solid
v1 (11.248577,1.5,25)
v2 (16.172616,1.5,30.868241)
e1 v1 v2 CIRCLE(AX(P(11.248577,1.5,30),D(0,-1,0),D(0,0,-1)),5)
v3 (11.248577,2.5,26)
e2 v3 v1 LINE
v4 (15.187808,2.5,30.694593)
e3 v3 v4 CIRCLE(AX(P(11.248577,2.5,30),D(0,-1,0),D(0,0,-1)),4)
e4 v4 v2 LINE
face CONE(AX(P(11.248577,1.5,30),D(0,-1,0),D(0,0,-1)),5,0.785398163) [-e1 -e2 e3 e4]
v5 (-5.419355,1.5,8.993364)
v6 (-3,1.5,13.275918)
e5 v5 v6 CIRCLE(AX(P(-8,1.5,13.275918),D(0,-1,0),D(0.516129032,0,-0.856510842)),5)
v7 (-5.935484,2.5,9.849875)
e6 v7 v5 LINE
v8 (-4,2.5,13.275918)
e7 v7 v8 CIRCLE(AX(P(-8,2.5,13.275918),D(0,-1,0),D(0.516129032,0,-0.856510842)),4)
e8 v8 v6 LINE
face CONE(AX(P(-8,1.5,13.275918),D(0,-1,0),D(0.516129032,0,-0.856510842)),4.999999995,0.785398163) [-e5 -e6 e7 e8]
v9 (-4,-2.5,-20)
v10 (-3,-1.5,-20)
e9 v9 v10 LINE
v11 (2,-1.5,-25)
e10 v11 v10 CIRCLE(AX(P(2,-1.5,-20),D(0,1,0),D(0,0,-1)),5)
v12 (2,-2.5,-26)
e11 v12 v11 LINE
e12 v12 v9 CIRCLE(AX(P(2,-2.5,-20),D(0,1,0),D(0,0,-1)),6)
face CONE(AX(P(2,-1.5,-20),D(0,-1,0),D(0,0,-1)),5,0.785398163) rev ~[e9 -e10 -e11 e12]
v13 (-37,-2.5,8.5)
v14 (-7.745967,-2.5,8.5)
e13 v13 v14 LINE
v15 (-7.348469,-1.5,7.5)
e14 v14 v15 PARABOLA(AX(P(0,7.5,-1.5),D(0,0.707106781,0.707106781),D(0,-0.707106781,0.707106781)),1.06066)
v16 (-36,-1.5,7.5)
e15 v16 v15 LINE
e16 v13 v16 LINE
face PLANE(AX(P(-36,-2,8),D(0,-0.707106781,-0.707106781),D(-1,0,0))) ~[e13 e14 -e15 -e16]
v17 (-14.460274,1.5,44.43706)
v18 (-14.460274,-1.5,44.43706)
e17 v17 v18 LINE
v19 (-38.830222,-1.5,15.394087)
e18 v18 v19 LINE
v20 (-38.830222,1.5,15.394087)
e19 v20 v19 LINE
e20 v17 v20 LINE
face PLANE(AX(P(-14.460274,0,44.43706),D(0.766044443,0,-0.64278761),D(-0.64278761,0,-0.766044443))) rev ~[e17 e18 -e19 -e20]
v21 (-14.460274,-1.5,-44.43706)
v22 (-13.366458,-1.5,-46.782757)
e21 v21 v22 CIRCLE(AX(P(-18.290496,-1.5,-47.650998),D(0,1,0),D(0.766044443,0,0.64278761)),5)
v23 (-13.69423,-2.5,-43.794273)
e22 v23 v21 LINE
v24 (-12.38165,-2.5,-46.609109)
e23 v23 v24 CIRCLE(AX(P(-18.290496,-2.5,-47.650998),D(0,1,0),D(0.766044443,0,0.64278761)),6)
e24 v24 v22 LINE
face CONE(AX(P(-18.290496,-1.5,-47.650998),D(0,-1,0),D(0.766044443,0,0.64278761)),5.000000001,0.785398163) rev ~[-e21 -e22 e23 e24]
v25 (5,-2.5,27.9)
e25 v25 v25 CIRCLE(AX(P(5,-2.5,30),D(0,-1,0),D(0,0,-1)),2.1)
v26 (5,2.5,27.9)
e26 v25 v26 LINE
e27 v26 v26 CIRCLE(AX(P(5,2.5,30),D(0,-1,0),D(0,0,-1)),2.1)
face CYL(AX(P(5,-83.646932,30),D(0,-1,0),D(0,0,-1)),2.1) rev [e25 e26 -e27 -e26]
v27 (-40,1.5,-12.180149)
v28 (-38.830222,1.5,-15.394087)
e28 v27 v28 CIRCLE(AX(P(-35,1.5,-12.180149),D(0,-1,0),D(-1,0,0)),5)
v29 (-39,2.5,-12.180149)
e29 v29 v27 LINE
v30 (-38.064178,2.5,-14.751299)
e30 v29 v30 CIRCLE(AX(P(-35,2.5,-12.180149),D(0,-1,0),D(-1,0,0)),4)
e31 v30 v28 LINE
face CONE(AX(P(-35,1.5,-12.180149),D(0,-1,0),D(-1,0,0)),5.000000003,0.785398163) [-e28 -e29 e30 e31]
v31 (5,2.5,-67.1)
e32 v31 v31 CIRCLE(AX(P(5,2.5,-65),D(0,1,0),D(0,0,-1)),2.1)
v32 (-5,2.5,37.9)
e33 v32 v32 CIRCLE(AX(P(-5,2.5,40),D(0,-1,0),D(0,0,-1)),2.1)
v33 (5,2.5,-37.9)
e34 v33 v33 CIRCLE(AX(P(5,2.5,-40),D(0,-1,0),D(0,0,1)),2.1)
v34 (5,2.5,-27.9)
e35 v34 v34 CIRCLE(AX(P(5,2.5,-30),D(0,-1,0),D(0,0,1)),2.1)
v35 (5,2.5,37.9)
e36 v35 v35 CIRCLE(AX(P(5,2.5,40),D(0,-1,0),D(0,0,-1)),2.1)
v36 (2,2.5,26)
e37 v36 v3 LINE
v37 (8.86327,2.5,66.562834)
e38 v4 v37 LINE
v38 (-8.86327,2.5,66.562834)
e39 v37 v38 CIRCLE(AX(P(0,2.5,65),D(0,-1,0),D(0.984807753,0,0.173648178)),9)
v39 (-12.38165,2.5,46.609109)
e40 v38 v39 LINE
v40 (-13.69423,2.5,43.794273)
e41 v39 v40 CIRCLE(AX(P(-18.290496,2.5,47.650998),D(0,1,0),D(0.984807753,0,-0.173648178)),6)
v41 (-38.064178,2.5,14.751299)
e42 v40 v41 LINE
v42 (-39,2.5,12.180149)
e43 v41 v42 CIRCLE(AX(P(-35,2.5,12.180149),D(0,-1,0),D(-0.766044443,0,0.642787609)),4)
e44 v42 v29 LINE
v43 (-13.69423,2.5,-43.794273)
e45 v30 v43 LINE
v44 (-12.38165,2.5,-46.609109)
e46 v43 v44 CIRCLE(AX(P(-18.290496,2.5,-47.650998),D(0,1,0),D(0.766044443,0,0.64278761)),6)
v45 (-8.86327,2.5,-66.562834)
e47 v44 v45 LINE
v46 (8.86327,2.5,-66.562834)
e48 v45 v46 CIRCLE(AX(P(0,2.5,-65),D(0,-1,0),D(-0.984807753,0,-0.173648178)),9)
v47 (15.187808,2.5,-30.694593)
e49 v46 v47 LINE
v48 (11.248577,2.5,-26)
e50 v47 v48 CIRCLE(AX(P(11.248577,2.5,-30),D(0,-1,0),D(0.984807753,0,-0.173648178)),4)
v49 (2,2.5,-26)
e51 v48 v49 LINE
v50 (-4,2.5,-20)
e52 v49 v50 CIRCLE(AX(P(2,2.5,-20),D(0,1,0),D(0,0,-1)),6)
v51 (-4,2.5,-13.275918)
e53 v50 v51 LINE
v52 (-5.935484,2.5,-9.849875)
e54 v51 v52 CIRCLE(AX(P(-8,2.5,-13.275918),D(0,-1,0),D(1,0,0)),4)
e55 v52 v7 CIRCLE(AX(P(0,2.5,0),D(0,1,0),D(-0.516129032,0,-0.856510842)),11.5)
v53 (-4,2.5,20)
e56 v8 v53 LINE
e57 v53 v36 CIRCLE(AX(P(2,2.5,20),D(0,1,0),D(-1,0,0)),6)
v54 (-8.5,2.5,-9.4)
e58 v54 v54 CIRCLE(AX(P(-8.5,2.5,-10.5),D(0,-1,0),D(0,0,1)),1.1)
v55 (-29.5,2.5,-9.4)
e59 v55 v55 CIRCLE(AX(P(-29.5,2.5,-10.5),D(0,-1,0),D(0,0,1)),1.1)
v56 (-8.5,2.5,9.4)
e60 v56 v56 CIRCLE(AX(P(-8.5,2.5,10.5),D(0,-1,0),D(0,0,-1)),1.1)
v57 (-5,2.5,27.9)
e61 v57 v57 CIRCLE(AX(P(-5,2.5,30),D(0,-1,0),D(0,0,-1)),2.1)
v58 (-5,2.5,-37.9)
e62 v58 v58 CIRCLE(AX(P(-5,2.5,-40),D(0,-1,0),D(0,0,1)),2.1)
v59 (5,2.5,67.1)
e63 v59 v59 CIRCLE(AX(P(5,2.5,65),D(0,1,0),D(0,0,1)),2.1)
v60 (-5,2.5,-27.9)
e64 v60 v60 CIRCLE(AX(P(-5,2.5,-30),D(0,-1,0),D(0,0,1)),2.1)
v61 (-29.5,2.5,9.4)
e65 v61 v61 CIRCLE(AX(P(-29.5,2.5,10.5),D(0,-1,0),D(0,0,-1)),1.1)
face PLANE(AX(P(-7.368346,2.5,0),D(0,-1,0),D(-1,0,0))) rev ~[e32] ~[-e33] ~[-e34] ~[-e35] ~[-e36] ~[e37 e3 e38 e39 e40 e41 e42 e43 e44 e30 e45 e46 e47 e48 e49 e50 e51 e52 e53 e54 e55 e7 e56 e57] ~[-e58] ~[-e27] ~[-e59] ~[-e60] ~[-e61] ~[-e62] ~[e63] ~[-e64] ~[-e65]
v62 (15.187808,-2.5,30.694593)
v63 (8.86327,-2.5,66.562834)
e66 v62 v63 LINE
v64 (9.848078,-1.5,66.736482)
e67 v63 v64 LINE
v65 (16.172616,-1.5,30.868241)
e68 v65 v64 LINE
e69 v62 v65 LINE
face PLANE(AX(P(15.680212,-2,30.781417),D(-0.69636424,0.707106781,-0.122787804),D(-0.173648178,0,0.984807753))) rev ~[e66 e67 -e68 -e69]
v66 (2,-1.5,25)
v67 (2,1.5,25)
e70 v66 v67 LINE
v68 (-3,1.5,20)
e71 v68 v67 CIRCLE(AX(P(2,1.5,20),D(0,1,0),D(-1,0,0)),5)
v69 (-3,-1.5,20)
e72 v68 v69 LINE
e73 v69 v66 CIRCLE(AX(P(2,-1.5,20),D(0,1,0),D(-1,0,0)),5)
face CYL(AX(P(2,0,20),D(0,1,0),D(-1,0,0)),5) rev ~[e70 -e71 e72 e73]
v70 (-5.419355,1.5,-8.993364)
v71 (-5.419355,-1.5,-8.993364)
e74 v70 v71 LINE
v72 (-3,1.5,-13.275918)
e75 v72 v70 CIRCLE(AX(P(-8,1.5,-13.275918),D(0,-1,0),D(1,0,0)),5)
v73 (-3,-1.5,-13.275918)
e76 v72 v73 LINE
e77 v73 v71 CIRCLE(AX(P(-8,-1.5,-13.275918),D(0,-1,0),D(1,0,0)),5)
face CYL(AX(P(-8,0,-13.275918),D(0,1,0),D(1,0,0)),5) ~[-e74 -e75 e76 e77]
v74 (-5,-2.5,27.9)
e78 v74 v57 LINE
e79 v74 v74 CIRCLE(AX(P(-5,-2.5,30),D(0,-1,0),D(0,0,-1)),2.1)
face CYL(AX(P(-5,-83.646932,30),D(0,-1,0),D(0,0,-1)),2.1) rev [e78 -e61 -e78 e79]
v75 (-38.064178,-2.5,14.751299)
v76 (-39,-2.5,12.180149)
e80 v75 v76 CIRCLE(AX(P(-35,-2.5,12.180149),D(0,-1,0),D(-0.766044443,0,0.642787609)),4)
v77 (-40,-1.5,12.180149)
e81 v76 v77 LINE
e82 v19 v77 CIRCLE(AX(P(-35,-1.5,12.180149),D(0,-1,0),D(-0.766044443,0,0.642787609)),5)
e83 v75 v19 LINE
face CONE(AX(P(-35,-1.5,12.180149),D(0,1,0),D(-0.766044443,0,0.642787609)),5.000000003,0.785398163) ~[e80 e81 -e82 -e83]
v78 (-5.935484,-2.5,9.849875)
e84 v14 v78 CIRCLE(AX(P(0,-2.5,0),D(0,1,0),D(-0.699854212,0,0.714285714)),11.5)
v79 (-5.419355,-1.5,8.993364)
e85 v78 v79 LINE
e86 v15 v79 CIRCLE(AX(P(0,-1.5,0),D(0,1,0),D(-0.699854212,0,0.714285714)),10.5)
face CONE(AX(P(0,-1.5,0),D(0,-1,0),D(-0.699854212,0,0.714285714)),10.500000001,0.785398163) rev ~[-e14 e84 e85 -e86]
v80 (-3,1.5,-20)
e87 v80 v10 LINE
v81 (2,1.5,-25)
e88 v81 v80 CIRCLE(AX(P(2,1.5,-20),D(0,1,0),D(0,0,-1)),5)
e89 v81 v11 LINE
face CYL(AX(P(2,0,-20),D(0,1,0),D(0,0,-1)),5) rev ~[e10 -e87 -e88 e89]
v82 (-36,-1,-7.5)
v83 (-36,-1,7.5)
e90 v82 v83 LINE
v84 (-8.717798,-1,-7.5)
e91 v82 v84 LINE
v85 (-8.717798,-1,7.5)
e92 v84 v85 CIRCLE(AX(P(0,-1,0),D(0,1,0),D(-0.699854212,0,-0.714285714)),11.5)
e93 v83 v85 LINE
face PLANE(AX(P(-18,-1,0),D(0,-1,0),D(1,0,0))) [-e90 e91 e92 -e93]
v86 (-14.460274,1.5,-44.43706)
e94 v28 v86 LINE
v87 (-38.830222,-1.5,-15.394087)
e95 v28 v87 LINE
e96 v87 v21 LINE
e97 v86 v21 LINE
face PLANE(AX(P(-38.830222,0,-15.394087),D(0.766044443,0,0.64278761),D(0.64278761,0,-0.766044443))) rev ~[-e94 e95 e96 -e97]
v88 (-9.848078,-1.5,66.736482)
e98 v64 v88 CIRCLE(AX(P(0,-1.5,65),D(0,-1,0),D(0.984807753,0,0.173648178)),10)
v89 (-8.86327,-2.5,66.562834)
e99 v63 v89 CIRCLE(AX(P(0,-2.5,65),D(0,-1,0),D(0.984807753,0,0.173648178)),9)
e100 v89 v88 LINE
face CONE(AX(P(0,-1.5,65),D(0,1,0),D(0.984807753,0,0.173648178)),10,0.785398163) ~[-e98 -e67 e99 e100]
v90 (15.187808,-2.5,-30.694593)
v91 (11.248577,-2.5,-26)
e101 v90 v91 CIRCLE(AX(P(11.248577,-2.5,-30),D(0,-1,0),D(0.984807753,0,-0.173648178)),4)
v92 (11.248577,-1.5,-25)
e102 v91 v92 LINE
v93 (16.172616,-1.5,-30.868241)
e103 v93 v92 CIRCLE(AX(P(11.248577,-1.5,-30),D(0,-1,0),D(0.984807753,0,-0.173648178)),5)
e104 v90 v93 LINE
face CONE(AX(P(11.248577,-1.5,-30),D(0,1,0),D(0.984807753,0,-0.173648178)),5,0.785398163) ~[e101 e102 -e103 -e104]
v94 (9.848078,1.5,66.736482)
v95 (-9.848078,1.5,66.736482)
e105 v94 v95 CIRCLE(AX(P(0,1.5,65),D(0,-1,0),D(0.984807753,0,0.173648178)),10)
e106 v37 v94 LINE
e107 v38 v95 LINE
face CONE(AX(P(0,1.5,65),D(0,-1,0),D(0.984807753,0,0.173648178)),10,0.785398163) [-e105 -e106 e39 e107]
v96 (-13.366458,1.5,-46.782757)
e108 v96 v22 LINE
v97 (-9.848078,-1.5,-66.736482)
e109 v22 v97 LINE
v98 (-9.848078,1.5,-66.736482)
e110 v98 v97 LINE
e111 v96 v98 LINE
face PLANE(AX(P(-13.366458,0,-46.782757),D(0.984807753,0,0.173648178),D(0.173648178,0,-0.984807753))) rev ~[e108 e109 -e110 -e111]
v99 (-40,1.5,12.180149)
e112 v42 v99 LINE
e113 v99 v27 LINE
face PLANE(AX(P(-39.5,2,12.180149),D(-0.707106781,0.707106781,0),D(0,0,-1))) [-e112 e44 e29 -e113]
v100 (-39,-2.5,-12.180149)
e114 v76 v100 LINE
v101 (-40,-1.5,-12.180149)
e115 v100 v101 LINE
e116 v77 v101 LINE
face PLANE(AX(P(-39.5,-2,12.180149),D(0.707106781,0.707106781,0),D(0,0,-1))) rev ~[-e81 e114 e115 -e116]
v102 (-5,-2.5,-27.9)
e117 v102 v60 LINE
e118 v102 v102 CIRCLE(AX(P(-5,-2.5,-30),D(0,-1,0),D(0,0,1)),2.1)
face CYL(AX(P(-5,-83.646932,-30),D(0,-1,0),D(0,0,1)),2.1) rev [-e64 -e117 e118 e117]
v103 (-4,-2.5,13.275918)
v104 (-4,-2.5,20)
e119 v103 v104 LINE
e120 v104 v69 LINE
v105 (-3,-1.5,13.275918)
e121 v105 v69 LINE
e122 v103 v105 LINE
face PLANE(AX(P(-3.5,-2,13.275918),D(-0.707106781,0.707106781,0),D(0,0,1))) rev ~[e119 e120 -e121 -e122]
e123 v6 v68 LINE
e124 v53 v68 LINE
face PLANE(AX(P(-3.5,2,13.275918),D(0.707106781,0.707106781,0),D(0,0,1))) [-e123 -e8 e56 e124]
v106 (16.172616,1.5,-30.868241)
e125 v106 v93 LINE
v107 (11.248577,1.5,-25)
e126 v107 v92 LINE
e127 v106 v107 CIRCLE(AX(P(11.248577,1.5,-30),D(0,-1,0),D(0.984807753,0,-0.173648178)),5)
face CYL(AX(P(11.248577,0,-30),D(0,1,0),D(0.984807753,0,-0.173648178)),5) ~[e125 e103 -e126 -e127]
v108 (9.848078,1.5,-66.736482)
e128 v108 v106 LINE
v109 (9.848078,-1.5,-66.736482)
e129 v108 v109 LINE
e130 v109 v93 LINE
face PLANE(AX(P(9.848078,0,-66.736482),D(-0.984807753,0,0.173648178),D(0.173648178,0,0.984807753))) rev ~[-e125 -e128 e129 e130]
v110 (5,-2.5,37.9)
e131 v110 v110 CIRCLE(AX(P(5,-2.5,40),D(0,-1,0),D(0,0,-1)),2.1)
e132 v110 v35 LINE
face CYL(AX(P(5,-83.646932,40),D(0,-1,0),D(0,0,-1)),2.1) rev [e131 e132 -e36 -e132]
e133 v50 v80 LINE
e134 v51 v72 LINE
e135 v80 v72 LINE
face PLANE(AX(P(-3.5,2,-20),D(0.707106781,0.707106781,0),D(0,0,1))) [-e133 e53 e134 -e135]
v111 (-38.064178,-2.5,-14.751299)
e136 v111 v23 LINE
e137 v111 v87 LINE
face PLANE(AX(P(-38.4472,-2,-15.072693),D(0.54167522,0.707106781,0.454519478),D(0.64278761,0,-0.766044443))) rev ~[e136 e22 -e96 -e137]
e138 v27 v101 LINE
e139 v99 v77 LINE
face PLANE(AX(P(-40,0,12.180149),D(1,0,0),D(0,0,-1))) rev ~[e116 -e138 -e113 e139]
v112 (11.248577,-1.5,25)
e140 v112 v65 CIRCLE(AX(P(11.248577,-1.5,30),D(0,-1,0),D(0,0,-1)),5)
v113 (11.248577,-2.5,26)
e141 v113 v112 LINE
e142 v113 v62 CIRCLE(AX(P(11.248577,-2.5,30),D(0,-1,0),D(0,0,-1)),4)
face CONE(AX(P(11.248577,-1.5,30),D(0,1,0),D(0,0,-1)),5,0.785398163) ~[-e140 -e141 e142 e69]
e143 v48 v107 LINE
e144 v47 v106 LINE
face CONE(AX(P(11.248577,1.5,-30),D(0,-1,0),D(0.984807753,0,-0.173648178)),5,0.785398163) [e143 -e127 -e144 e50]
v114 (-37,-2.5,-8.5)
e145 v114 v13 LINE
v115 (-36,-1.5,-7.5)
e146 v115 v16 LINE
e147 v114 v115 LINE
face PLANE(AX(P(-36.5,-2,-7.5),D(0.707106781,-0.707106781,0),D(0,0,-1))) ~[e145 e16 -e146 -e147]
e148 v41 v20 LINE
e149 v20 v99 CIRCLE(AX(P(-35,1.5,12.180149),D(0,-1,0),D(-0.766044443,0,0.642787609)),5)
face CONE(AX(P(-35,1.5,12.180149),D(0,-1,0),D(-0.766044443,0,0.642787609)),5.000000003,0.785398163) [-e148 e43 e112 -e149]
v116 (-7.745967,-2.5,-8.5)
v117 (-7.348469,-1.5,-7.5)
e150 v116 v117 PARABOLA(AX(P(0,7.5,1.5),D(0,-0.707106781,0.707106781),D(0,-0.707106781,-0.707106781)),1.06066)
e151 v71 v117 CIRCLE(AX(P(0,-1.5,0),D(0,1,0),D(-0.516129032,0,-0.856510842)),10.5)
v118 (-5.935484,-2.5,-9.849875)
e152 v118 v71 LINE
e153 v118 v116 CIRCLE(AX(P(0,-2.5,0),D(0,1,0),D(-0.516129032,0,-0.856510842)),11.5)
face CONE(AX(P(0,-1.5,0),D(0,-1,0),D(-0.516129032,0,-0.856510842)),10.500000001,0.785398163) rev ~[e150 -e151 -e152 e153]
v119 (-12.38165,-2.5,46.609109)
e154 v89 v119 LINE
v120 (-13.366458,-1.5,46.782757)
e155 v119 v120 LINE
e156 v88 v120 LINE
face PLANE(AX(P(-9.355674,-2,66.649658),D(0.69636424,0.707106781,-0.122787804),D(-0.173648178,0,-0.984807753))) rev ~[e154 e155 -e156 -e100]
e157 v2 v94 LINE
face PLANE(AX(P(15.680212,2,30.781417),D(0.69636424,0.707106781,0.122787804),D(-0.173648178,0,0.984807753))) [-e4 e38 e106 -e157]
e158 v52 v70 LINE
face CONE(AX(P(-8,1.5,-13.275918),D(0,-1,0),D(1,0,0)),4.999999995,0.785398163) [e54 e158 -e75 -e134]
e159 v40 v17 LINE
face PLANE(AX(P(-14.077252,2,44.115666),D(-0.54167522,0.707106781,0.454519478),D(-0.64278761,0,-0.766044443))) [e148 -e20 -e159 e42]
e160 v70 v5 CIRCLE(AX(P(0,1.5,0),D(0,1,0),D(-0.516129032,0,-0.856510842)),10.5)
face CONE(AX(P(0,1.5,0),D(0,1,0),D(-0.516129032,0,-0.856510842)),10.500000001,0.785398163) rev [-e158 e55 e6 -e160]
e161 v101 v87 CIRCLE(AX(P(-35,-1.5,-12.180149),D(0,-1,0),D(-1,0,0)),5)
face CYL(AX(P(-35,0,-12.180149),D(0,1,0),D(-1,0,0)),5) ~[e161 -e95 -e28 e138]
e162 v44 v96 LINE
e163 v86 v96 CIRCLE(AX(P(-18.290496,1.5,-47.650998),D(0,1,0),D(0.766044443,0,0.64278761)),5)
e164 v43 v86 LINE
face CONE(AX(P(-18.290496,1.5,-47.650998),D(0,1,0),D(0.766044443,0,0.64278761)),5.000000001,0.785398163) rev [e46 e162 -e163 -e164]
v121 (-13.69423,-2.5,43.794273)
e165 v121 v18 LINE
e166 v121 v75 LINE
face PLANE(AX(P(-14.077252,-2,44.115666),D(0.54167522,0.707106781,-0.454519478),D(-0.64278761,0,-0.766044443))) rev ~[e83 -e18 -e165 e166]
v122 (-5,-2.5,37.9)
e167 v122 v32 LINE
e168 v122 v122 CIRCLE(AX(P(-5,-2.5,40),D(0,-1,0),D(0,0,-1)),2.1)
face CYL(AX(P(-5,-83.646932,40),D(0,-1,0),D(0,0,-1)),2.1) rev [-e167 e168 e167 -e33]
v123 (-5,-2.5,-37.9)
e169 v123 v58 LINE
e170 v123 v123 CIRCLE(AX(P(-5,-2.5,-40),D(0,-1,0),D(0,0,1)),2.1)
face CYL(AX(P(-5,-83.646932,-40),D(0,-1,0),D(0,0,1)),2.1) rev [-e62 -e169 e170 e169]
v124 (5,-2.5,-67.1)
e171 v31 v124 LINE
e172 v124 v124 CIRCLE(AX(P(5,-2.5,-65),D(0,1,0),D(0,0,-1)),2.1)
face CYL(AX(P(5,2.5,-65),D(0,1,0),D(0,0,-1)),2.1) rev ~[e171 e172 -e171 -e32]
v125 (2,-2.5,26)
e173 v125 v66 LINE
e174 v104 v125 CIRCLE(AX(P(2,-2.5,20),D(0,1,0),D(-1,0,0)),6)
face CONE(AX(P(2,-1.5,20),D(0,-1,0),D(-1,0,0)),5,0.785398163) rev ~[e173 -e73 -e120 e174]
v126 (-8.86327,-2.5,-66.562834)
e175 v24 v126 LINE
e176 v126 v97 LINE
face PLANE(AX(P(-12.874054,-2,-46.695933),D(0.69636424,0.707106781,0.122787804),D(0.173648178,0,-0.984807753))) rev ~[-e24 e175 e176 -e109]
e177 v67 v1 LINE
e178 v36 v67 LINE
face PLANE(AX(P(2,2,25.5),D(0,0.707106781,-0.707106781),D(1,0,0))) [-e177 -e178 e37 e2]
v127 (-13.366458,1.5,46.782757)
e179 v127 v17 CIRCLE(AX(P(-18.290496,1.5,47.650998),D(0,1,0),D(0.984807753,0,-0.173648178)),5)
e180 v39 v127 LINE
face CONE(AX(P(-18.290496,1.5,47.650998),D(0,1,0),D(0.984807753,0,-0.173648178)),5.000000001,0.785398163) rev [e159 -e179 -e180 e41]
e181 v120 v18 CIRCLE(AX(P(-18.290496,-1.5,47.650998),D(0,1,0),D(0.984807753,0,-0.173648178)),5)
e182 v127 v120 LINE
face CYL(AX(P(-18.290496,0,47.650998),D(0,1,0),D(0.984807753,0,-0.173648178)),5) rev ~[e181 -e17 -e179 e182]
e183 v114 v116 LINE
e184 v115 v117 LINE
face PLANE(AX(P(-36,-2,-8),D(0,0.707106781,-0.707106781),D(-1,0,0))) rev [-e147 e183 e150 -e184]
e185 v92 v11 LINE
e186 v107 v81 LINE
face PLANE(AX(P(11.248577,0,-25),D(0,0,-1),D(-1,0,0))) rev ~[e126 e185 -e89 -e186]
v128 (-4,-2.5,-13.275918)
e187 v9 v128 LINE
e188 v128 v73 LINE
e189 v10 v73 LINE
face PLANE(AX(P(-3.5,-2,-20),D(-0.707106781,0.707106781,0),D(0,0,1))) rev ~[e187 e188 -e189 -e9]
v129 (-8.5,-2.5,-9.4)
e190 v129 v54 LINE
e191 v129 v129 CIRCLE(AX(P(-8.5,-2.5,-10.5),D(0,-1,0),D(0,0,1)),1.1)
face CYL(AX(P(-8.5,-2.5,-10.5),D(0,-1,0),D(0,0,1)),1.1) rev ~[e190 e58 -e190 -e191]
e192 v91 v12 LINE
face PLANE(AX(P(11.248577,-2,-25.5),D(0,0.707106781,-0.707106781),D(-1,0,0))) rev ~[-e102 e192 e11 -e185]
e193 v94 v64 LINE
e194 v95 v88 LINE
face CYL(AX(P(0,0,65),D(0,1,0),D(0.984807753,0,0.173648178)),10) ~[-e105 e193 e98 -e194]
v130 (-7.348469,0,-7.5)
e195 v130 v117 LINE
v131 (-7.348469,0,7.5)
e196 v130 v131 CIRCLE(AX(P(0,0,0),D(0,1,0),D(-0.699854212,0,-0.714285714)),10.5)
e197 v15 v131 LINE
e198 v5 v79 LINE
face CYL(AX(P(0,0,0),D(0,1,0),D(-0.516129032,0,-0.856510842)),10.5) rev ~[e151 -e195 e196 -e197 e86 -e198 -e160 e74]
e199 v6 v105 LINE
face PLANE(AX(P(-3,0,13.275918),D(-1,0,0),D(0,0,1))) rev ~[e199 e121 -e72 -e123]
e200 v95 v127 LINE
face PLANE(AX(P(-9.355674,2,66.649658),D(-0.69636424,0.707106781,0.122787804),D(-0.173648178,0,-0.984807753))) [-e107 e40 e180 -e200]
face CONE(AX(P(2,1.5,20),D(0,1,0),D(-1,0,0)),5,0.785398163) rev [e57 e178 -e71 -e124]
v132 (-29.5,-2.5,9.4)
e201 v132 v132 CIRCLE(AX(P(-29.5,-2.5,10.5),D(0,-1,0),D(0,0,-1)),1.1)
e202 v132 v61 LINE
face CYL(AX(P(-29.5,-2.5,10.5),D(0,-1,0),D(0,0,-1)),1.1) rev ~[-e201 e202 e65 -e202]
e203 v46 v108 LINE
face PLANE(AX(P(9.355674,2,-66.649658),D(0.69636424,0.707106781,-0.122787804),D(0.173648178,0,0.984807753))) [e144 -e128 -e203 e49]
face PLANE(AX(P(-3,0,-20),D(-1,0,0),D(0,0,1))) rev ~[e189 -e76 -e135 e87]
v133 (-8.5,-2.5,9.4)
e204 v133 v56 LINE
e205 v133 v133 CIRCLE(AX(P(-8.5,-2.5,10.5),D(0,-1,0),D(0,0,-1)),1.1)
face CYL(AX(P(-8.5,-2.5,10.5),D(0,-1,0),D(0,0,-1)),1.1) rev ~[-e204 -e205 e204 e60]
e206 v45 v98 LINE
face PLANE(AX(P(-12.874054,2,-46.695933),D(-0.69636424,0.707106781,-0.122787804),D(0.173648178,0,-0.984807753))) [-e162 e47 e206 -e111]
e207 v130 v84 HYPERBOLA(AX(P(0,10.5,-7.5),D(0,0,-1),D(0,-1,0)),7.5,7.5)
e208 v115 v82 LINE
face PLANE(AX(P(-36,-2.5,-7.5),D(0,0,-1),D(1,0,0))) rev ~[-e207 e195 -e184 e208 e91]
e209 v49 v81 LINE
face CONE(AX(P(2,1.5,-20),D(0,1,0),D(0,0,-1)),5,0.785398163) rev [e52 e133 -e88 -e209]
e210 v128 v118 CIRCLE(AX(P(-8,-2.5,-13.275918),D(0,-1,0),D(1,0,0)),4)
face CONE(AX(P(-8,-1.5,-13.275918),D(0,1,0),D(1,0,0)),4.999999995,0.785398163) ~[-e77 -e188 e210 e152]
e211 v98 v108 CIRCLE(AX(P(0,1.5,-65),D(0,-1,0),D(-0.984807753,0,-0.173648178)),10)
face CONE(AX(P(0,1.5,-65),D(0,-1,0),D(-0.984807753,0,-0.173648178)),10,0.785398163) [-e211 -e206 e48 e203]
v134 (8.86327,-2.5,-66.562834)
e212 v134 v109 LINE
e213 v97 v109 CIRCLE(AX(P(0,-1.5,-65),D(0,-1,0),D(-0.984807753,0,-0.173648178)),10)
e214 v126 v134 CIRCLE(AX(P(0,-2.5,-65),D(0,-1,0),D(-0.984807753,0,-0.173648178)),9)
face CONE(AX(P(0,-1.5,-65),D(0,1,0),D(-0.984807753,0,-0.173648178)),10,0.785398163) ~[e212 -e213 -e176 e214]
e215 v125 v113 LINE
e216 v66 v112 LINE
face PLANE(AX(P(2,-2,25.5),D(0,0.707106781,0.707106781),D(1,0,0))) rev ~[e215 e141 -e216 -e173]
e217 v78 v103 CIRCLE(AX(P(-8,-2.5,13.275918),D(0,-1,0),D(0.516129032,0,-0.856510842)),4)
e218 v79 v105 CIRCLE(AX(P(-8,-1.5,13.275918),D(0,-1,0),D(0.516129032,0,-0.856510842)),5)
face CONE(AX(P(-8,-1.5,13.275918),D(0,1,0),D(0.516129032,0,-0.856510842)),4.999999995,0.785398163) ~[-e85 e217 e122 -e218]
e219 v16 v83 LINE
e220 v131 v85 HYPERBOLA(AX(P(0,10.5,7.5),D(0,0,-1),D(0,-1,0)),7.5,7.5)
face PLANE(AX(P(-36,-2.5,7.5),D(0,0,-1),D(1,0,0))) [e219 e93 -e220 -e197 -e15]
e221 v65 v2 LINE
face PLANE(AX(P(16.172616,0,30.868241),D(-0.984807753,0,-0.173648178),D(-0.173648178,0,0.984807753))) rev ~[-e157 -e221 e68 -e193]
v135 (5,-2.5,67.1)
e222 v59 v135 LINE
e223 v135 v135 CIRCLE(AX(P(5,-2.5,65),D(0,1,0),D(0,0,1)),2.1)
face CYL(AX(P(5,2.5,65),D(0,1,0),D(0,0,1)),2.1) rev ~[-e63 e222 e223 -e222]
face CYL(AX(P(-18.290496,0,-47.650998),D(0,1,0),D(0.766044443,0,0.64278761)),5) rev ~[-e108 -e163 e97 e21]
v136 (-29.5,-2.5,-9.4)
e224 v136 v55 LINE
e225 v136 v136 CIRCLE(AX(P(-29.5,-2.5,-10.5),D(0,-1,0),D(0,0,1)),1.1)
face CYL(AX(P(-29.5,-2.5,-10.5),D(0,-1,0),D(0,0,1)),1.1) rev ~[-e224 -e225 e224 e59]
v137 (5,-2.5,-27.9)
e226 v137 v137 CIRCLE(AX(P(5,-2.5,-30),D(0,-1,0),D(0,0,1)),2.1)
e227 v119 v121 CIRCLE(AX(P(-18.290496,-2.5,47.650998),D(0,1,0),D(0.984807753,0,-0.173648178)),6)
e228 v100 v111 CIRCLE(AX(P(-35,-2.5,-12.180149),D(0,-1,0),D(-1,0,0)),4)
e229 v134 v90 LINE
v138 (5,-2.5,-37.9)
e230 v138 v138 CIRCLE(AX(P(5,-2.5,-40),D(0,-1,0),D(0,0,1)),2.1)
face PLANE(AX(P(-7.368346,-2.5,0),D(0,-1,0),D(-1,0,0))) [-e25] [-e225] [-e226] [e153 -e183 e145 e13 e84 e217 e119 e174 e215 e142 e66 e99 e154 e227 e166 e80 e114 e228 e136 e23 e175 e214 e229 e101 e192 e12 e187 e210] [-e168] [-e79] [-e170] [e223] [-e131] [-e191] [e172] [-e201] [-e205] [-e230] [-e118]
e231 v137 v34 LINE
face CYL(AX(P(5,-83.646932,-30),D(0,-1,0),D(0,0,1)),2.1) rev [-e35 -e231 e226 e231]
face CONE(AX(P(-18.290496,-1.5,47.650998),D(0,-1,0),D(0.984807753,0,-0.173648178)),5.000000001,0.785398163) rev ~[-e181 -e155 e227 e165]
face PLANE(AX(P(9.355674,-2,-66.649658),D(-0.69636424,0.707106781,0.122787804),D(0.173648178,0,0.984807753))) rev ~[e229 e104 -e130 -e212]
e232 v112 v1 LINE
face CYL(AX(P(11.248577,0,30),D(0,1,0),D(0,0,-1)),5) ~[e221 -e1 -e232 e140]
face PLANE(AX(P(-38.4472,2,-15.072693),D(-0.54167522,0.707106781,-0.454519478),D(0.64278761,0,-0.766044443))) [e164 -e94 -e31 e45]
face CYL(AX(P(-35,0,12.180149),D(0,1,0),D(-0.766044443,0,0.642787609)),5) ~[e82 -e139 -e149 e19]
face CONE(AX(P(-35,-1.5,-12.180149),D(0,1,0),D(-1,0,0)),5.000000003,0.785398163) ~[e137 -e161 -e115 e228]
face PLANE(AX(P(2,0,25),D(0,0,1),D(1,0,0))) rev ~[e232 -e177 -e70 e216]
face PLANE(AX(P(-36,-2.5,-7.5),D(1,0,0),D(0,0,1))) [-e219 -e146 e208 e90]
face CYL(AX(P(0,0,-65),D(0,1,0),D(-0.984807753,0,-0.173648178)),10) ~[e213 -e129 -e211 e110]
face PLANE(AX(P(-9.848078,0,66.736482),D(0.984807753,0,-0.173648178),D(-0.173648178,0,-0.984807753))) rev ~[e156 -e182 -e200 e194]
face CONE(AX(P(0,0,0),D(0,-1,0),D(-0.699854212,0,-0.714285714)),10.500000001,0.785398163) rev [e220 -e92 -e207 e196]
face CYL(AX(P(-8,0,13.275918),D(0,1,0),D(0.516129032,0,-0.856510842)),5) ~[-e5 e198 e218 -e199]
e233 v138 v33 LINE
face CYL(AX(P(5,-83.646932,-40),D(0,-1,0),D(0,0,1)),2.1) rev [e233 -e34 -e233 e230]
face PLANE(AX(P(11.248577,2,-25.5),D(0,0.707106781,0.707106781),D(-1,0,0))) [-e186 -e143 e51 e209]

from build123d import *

# Parameters (mm, degrees)
EXTRUDE_1_DEPTH          = 2.5
SKETCH_2_R               = 2.1
CUT_EXTRUDE_1_DEPTH      = 86.14693183
SKETCH_3_R               = 1.1
CUT_EXTRUDE_2_DEPTH      = 86.14693183
SKETCH_6_W               = 36
SKETCH_6_H               = 15
CUT_EXTRUDE_3_DEPTH      = 1.5
CHAMFER_1_SIZE           = 1
CUT_EXTRUDE_4_DEPTH      = 86.14693183
CUT_EXTRUDE_4_DEPTH_BACK = 86.14693183
SKETCH_7_R               = 2.1


with BuildPart() as part:
    # 草图1 → 凸台-拉伸1 (new, symmetric)
    with BuildSketch(Plane(origin=(0, 0, 0), x_dir=(1, 0, 0), z_dir=(0, 1, 0))):
        with BuildLine():
            Line((16.172616149, -30.868240888), (9.84807753, -66.736481777))
            ThreePointArc((9.84807753, -66.736481777), (0, -75), (-9.84807753, -66.736481777))
            Line((-9.84807753, -66.736481777), (-13.366457523, -46.782757288))
            ThreePointArc((-13.366457523, -46.782757288), (-13.758957353, -45.537906868), (-14.460274073, -44.437060128))
            Line((-14.460274073, -44.437060128), (-38.830222216, -15.394086877))
            ThreePointArc((-38.830222216, -15.394086877), (-39.698463104, -13.890249545), (-40, -12.180148829))
            Line((-40, -12.180148829), (-40, 12.180148829))
            ThreePointArc((-40, 12.180148829), (-39.698463104, 13.890249545), (-38.830222216, 15.394086877))
            Line((-38.830222216, 15.394086877), (-14.460274073, 44.437060128))
            ThreePointArc((-14.460274073, 44.437060128), (-13.758957353, 45.537906868), (-13.366457523, 46.782757288))
            Line((-13.366457523, 46.782757288), (-9.84807753, 66.736481777))
            ThreePointArc((-9.84807753, 66.736481777), (0, 75), (9.84807753, 66.736481777))
            Line((9.84807753, 66.736481777), (16.172616149, 30.868240888))
            ThreePointArc((16.172616149, 30.868240888), (15.0787996, 26.786061952), (11.248577384, 25))
            Line((11.248577384, 25), (2, 25))
            ThreePointArc((2, 25), (-1.535533906, 23.535533906), (-3, 20))
            Line((-3, 20), (-3, 13.275918047))
            ThreePointArc((-3, 13.275918047), (-3.646654975, 10.816571163), (-5.419354839, 8.993363839))
            ThreePointArc((-5.419354839, 8.993363839), (-10.5, 0), (-5.419354839, -8.993363839))
            ThreePointArc((-5.419354839, -8.993363839), (-3.646654975, -10.816571163), (-3, -13.275918047))
            Line((-3, -13.275918047), (-3, -20))
            ThreePointArc((-3, -20), (-1.535533906, -23.535533906), (2, -25))
            Line((2, -25), (11.248577384, -25))
            ThreePointArc((11.248577384, -25), (15.0787996, -26.786061952), (16.172616149, -30.868240888))
        make_face()
    extrude(amount=EXTRUDE_1_DEPTH, both=True)

    # 草图2 → 切除-拉伸1 (cut, through all)
    with BuildSketch(Plane(origin=(0, 2.5, 0), x_dir=(1, 0, 0), z_dir=(0, 1, 0))):
        with Locations(Location((5, -65, 0), (0, 0, 270))):
            Circle(SKETCH_2_R)
        with Locations(Location((5, 65, 0), (0, 0, 90))):
            Circle(SKETCH_2_R)
    extrude(amount=-CUT_EXTRUDE_1_DEPTH, mode=Mode.SUBTRACT)

    # 草图3 → 切除-拉伸2 (cut, through all)
    with BuildSketch(Plane.XZ.offset(2.5)):
        with Locations(Location((-8.5, 10.5, 0), (0, 0, 270))):
            Circle(SKETCH_3_R)
        with Locations(Location((-29.5, 10.5, 0), (0, 0, 270))):
            Circle(SKETCH_3_R)
        with Locations(Location((-29.5, -10.5, 0), (0, 0, 90))):
            Circle(SKETCH_3_R)
        with Locations(Location((-8.5, -10.5, 0), (0, 0, 90))):
            Circle(SKETCH_3_R)
    extrude(amount=-CUT_EXTRUDE_2_DEPTH, mode=Mode.SUBTRACT)

    # 草图6 → 切除-拉伸3 (cut)
    with BuildSketch(Plane.XZ.offset(2.5)):
        with Locations((-18, 0)):
            Rectangle(SKETCH_6_W, SKETCH_6_H)
    extrude(amount=-CUT_EXTRUDE_3_DEPTH, mode=Mode.SUBTRACT)

    # 倒角1
    chamfer_1_edges = [part.edges().sort_by_distance(p)[0] for p in [
        (-6.427430804, -2.5, -8.302899088),
        (-21.674234614, -2.5, 7.5),
        (-10.5, -1, 0),
        (-36, -2.5, 0),
        (-21.674234614, -2.5, -7.5),
        (-1.535533906, 2.5, 23.535533906),
        (-3, 2.5, 16.637959024),
        (-3.646654975, 2.5, 10.816571163),
        (13.01034684, -2.5, 48.802361333),
        (0, -2.5, 75),
        (-11.607267527, -2.5, 56.759619532),
        (-13.758957353, -2.5, 45.537906868),
        (-26.645248144, -2.5, 29.915573502),
        (-10.5, 2.5, 0),
        (-39.698463104, -2.5, 13.890249545),
        (-40, -2.5, 0),
        (-39.698463104, -2.5, -13.890249545),
        (-26.645248144, -2.5, -29.915573502),
        (-13.758957353, -2.5, -45.537906868),
        (-11.607267527, -2.5, -56.759619532),
        (0, -2.5, -75),
        (13.01034684, -2.5, -48.802361333),
        (15.0787996, -2.5, -26.786061952),
        (6.624288692, -2.5, -25),
        (-3.646654975, 2.5, -10.816571163),
        (-1.535533906, -2.5, -23.535533906),
        (-3, -2.5, -16.637959024),
        (-3.646654975, -2.5, -10.816571163),
        (-6.427430804, -2.5, 8.302899088),
        (-3.646654975, -2.5, 10.816571163),
        (-3, -2.5, 16.637959024),
        (-1.535533906, -2.5, 23.535533906),
        (6.624288692, -2.5, 25),
        (15.0787996, -2.5, 26.786061952),
        (-3, 2.5, -16.637959024),
        (-1.535533906, 2.5, -23.535533906),
        (6.624288692, 2.5, -25),
        (15.0787996, 2.5, -26.786061952),
        (13.01034684, 2.5, -48.802361333),
        (15.0787996, 2.5, 26.786061952),
        (0, 2.5, -75),
        (-11.607267527, 2.5, -56.759619532),
        (-13.758957353, 2.5, -45.537906868),
        (-26.645248144, 2.5, -29.915573502),
        (-39.698463104, 2.5, -13.890249545),
        (-40, 2.5, 0),
        (-39.698463104, 2.5, 13.890249545),
        (-26.645248144, 2.5, 29.915573502),
        (-13.758957353, 2.5, 45.537906868),
        (-11.607267527, 2.5, 56.759619532),
        (6.624288692, 2.5, 25),
        (0, 2.5, 75),
        (13.01034684, 2.5, 48.802361333),
    ]]
    chamfer(chamfer_1_edges, length=CHAMFER_1_SIZE)

    # 草图7 → 切除-拉伸4 (cut, two sides: drawn at the far end of the back side and taken through both)
    with BuildSketch(Plane(origin=(0, 2.5, 0), x_dir=(1, 0, 0), z_dir=(0, 1, 0)).offset(-CUT_EXTRUDE_4_DEPTH_BACK)):
        with Locations(Location((-5, 40, 0), (0, 0, 270))):
            Circle(SKETCH_7_R)
        with Locations(Location((5, 40, 0), (0, 0, 270))):
            Circle(SKETCH_7_R)
        with Locations(Location((5, -40, 0), (0, 0, 90))):
            Circle(SKETCH_7_R)
        with Locations(Location((-5, -40, 0), (0, 0, 90))):
            Circle(SKETCH_7_R)
        with Locations(Location((-5, 30, 0), (0, 0, 270))):
            Circle(SKETCH_7_R)
        with Locations(Location((5, 30, 0), (0, 0, 270))):
            Circle(SKETCH_7_R)
        with Locations(Location((5, -30, 0), (0, 0, 90))):
            Circle(SKETCH_7_R)
        with Locations(Location((-5, -30, 0), (0, 0, 90))):
            Circle(SKETCH_7_R)
    extrude(amount=CUT_EXTRUDE_4_DEPTH + CUT_EXTRUDE_4_DEPTH_BACK, mode=Mode.SUBTRACT)


solid = part.part
